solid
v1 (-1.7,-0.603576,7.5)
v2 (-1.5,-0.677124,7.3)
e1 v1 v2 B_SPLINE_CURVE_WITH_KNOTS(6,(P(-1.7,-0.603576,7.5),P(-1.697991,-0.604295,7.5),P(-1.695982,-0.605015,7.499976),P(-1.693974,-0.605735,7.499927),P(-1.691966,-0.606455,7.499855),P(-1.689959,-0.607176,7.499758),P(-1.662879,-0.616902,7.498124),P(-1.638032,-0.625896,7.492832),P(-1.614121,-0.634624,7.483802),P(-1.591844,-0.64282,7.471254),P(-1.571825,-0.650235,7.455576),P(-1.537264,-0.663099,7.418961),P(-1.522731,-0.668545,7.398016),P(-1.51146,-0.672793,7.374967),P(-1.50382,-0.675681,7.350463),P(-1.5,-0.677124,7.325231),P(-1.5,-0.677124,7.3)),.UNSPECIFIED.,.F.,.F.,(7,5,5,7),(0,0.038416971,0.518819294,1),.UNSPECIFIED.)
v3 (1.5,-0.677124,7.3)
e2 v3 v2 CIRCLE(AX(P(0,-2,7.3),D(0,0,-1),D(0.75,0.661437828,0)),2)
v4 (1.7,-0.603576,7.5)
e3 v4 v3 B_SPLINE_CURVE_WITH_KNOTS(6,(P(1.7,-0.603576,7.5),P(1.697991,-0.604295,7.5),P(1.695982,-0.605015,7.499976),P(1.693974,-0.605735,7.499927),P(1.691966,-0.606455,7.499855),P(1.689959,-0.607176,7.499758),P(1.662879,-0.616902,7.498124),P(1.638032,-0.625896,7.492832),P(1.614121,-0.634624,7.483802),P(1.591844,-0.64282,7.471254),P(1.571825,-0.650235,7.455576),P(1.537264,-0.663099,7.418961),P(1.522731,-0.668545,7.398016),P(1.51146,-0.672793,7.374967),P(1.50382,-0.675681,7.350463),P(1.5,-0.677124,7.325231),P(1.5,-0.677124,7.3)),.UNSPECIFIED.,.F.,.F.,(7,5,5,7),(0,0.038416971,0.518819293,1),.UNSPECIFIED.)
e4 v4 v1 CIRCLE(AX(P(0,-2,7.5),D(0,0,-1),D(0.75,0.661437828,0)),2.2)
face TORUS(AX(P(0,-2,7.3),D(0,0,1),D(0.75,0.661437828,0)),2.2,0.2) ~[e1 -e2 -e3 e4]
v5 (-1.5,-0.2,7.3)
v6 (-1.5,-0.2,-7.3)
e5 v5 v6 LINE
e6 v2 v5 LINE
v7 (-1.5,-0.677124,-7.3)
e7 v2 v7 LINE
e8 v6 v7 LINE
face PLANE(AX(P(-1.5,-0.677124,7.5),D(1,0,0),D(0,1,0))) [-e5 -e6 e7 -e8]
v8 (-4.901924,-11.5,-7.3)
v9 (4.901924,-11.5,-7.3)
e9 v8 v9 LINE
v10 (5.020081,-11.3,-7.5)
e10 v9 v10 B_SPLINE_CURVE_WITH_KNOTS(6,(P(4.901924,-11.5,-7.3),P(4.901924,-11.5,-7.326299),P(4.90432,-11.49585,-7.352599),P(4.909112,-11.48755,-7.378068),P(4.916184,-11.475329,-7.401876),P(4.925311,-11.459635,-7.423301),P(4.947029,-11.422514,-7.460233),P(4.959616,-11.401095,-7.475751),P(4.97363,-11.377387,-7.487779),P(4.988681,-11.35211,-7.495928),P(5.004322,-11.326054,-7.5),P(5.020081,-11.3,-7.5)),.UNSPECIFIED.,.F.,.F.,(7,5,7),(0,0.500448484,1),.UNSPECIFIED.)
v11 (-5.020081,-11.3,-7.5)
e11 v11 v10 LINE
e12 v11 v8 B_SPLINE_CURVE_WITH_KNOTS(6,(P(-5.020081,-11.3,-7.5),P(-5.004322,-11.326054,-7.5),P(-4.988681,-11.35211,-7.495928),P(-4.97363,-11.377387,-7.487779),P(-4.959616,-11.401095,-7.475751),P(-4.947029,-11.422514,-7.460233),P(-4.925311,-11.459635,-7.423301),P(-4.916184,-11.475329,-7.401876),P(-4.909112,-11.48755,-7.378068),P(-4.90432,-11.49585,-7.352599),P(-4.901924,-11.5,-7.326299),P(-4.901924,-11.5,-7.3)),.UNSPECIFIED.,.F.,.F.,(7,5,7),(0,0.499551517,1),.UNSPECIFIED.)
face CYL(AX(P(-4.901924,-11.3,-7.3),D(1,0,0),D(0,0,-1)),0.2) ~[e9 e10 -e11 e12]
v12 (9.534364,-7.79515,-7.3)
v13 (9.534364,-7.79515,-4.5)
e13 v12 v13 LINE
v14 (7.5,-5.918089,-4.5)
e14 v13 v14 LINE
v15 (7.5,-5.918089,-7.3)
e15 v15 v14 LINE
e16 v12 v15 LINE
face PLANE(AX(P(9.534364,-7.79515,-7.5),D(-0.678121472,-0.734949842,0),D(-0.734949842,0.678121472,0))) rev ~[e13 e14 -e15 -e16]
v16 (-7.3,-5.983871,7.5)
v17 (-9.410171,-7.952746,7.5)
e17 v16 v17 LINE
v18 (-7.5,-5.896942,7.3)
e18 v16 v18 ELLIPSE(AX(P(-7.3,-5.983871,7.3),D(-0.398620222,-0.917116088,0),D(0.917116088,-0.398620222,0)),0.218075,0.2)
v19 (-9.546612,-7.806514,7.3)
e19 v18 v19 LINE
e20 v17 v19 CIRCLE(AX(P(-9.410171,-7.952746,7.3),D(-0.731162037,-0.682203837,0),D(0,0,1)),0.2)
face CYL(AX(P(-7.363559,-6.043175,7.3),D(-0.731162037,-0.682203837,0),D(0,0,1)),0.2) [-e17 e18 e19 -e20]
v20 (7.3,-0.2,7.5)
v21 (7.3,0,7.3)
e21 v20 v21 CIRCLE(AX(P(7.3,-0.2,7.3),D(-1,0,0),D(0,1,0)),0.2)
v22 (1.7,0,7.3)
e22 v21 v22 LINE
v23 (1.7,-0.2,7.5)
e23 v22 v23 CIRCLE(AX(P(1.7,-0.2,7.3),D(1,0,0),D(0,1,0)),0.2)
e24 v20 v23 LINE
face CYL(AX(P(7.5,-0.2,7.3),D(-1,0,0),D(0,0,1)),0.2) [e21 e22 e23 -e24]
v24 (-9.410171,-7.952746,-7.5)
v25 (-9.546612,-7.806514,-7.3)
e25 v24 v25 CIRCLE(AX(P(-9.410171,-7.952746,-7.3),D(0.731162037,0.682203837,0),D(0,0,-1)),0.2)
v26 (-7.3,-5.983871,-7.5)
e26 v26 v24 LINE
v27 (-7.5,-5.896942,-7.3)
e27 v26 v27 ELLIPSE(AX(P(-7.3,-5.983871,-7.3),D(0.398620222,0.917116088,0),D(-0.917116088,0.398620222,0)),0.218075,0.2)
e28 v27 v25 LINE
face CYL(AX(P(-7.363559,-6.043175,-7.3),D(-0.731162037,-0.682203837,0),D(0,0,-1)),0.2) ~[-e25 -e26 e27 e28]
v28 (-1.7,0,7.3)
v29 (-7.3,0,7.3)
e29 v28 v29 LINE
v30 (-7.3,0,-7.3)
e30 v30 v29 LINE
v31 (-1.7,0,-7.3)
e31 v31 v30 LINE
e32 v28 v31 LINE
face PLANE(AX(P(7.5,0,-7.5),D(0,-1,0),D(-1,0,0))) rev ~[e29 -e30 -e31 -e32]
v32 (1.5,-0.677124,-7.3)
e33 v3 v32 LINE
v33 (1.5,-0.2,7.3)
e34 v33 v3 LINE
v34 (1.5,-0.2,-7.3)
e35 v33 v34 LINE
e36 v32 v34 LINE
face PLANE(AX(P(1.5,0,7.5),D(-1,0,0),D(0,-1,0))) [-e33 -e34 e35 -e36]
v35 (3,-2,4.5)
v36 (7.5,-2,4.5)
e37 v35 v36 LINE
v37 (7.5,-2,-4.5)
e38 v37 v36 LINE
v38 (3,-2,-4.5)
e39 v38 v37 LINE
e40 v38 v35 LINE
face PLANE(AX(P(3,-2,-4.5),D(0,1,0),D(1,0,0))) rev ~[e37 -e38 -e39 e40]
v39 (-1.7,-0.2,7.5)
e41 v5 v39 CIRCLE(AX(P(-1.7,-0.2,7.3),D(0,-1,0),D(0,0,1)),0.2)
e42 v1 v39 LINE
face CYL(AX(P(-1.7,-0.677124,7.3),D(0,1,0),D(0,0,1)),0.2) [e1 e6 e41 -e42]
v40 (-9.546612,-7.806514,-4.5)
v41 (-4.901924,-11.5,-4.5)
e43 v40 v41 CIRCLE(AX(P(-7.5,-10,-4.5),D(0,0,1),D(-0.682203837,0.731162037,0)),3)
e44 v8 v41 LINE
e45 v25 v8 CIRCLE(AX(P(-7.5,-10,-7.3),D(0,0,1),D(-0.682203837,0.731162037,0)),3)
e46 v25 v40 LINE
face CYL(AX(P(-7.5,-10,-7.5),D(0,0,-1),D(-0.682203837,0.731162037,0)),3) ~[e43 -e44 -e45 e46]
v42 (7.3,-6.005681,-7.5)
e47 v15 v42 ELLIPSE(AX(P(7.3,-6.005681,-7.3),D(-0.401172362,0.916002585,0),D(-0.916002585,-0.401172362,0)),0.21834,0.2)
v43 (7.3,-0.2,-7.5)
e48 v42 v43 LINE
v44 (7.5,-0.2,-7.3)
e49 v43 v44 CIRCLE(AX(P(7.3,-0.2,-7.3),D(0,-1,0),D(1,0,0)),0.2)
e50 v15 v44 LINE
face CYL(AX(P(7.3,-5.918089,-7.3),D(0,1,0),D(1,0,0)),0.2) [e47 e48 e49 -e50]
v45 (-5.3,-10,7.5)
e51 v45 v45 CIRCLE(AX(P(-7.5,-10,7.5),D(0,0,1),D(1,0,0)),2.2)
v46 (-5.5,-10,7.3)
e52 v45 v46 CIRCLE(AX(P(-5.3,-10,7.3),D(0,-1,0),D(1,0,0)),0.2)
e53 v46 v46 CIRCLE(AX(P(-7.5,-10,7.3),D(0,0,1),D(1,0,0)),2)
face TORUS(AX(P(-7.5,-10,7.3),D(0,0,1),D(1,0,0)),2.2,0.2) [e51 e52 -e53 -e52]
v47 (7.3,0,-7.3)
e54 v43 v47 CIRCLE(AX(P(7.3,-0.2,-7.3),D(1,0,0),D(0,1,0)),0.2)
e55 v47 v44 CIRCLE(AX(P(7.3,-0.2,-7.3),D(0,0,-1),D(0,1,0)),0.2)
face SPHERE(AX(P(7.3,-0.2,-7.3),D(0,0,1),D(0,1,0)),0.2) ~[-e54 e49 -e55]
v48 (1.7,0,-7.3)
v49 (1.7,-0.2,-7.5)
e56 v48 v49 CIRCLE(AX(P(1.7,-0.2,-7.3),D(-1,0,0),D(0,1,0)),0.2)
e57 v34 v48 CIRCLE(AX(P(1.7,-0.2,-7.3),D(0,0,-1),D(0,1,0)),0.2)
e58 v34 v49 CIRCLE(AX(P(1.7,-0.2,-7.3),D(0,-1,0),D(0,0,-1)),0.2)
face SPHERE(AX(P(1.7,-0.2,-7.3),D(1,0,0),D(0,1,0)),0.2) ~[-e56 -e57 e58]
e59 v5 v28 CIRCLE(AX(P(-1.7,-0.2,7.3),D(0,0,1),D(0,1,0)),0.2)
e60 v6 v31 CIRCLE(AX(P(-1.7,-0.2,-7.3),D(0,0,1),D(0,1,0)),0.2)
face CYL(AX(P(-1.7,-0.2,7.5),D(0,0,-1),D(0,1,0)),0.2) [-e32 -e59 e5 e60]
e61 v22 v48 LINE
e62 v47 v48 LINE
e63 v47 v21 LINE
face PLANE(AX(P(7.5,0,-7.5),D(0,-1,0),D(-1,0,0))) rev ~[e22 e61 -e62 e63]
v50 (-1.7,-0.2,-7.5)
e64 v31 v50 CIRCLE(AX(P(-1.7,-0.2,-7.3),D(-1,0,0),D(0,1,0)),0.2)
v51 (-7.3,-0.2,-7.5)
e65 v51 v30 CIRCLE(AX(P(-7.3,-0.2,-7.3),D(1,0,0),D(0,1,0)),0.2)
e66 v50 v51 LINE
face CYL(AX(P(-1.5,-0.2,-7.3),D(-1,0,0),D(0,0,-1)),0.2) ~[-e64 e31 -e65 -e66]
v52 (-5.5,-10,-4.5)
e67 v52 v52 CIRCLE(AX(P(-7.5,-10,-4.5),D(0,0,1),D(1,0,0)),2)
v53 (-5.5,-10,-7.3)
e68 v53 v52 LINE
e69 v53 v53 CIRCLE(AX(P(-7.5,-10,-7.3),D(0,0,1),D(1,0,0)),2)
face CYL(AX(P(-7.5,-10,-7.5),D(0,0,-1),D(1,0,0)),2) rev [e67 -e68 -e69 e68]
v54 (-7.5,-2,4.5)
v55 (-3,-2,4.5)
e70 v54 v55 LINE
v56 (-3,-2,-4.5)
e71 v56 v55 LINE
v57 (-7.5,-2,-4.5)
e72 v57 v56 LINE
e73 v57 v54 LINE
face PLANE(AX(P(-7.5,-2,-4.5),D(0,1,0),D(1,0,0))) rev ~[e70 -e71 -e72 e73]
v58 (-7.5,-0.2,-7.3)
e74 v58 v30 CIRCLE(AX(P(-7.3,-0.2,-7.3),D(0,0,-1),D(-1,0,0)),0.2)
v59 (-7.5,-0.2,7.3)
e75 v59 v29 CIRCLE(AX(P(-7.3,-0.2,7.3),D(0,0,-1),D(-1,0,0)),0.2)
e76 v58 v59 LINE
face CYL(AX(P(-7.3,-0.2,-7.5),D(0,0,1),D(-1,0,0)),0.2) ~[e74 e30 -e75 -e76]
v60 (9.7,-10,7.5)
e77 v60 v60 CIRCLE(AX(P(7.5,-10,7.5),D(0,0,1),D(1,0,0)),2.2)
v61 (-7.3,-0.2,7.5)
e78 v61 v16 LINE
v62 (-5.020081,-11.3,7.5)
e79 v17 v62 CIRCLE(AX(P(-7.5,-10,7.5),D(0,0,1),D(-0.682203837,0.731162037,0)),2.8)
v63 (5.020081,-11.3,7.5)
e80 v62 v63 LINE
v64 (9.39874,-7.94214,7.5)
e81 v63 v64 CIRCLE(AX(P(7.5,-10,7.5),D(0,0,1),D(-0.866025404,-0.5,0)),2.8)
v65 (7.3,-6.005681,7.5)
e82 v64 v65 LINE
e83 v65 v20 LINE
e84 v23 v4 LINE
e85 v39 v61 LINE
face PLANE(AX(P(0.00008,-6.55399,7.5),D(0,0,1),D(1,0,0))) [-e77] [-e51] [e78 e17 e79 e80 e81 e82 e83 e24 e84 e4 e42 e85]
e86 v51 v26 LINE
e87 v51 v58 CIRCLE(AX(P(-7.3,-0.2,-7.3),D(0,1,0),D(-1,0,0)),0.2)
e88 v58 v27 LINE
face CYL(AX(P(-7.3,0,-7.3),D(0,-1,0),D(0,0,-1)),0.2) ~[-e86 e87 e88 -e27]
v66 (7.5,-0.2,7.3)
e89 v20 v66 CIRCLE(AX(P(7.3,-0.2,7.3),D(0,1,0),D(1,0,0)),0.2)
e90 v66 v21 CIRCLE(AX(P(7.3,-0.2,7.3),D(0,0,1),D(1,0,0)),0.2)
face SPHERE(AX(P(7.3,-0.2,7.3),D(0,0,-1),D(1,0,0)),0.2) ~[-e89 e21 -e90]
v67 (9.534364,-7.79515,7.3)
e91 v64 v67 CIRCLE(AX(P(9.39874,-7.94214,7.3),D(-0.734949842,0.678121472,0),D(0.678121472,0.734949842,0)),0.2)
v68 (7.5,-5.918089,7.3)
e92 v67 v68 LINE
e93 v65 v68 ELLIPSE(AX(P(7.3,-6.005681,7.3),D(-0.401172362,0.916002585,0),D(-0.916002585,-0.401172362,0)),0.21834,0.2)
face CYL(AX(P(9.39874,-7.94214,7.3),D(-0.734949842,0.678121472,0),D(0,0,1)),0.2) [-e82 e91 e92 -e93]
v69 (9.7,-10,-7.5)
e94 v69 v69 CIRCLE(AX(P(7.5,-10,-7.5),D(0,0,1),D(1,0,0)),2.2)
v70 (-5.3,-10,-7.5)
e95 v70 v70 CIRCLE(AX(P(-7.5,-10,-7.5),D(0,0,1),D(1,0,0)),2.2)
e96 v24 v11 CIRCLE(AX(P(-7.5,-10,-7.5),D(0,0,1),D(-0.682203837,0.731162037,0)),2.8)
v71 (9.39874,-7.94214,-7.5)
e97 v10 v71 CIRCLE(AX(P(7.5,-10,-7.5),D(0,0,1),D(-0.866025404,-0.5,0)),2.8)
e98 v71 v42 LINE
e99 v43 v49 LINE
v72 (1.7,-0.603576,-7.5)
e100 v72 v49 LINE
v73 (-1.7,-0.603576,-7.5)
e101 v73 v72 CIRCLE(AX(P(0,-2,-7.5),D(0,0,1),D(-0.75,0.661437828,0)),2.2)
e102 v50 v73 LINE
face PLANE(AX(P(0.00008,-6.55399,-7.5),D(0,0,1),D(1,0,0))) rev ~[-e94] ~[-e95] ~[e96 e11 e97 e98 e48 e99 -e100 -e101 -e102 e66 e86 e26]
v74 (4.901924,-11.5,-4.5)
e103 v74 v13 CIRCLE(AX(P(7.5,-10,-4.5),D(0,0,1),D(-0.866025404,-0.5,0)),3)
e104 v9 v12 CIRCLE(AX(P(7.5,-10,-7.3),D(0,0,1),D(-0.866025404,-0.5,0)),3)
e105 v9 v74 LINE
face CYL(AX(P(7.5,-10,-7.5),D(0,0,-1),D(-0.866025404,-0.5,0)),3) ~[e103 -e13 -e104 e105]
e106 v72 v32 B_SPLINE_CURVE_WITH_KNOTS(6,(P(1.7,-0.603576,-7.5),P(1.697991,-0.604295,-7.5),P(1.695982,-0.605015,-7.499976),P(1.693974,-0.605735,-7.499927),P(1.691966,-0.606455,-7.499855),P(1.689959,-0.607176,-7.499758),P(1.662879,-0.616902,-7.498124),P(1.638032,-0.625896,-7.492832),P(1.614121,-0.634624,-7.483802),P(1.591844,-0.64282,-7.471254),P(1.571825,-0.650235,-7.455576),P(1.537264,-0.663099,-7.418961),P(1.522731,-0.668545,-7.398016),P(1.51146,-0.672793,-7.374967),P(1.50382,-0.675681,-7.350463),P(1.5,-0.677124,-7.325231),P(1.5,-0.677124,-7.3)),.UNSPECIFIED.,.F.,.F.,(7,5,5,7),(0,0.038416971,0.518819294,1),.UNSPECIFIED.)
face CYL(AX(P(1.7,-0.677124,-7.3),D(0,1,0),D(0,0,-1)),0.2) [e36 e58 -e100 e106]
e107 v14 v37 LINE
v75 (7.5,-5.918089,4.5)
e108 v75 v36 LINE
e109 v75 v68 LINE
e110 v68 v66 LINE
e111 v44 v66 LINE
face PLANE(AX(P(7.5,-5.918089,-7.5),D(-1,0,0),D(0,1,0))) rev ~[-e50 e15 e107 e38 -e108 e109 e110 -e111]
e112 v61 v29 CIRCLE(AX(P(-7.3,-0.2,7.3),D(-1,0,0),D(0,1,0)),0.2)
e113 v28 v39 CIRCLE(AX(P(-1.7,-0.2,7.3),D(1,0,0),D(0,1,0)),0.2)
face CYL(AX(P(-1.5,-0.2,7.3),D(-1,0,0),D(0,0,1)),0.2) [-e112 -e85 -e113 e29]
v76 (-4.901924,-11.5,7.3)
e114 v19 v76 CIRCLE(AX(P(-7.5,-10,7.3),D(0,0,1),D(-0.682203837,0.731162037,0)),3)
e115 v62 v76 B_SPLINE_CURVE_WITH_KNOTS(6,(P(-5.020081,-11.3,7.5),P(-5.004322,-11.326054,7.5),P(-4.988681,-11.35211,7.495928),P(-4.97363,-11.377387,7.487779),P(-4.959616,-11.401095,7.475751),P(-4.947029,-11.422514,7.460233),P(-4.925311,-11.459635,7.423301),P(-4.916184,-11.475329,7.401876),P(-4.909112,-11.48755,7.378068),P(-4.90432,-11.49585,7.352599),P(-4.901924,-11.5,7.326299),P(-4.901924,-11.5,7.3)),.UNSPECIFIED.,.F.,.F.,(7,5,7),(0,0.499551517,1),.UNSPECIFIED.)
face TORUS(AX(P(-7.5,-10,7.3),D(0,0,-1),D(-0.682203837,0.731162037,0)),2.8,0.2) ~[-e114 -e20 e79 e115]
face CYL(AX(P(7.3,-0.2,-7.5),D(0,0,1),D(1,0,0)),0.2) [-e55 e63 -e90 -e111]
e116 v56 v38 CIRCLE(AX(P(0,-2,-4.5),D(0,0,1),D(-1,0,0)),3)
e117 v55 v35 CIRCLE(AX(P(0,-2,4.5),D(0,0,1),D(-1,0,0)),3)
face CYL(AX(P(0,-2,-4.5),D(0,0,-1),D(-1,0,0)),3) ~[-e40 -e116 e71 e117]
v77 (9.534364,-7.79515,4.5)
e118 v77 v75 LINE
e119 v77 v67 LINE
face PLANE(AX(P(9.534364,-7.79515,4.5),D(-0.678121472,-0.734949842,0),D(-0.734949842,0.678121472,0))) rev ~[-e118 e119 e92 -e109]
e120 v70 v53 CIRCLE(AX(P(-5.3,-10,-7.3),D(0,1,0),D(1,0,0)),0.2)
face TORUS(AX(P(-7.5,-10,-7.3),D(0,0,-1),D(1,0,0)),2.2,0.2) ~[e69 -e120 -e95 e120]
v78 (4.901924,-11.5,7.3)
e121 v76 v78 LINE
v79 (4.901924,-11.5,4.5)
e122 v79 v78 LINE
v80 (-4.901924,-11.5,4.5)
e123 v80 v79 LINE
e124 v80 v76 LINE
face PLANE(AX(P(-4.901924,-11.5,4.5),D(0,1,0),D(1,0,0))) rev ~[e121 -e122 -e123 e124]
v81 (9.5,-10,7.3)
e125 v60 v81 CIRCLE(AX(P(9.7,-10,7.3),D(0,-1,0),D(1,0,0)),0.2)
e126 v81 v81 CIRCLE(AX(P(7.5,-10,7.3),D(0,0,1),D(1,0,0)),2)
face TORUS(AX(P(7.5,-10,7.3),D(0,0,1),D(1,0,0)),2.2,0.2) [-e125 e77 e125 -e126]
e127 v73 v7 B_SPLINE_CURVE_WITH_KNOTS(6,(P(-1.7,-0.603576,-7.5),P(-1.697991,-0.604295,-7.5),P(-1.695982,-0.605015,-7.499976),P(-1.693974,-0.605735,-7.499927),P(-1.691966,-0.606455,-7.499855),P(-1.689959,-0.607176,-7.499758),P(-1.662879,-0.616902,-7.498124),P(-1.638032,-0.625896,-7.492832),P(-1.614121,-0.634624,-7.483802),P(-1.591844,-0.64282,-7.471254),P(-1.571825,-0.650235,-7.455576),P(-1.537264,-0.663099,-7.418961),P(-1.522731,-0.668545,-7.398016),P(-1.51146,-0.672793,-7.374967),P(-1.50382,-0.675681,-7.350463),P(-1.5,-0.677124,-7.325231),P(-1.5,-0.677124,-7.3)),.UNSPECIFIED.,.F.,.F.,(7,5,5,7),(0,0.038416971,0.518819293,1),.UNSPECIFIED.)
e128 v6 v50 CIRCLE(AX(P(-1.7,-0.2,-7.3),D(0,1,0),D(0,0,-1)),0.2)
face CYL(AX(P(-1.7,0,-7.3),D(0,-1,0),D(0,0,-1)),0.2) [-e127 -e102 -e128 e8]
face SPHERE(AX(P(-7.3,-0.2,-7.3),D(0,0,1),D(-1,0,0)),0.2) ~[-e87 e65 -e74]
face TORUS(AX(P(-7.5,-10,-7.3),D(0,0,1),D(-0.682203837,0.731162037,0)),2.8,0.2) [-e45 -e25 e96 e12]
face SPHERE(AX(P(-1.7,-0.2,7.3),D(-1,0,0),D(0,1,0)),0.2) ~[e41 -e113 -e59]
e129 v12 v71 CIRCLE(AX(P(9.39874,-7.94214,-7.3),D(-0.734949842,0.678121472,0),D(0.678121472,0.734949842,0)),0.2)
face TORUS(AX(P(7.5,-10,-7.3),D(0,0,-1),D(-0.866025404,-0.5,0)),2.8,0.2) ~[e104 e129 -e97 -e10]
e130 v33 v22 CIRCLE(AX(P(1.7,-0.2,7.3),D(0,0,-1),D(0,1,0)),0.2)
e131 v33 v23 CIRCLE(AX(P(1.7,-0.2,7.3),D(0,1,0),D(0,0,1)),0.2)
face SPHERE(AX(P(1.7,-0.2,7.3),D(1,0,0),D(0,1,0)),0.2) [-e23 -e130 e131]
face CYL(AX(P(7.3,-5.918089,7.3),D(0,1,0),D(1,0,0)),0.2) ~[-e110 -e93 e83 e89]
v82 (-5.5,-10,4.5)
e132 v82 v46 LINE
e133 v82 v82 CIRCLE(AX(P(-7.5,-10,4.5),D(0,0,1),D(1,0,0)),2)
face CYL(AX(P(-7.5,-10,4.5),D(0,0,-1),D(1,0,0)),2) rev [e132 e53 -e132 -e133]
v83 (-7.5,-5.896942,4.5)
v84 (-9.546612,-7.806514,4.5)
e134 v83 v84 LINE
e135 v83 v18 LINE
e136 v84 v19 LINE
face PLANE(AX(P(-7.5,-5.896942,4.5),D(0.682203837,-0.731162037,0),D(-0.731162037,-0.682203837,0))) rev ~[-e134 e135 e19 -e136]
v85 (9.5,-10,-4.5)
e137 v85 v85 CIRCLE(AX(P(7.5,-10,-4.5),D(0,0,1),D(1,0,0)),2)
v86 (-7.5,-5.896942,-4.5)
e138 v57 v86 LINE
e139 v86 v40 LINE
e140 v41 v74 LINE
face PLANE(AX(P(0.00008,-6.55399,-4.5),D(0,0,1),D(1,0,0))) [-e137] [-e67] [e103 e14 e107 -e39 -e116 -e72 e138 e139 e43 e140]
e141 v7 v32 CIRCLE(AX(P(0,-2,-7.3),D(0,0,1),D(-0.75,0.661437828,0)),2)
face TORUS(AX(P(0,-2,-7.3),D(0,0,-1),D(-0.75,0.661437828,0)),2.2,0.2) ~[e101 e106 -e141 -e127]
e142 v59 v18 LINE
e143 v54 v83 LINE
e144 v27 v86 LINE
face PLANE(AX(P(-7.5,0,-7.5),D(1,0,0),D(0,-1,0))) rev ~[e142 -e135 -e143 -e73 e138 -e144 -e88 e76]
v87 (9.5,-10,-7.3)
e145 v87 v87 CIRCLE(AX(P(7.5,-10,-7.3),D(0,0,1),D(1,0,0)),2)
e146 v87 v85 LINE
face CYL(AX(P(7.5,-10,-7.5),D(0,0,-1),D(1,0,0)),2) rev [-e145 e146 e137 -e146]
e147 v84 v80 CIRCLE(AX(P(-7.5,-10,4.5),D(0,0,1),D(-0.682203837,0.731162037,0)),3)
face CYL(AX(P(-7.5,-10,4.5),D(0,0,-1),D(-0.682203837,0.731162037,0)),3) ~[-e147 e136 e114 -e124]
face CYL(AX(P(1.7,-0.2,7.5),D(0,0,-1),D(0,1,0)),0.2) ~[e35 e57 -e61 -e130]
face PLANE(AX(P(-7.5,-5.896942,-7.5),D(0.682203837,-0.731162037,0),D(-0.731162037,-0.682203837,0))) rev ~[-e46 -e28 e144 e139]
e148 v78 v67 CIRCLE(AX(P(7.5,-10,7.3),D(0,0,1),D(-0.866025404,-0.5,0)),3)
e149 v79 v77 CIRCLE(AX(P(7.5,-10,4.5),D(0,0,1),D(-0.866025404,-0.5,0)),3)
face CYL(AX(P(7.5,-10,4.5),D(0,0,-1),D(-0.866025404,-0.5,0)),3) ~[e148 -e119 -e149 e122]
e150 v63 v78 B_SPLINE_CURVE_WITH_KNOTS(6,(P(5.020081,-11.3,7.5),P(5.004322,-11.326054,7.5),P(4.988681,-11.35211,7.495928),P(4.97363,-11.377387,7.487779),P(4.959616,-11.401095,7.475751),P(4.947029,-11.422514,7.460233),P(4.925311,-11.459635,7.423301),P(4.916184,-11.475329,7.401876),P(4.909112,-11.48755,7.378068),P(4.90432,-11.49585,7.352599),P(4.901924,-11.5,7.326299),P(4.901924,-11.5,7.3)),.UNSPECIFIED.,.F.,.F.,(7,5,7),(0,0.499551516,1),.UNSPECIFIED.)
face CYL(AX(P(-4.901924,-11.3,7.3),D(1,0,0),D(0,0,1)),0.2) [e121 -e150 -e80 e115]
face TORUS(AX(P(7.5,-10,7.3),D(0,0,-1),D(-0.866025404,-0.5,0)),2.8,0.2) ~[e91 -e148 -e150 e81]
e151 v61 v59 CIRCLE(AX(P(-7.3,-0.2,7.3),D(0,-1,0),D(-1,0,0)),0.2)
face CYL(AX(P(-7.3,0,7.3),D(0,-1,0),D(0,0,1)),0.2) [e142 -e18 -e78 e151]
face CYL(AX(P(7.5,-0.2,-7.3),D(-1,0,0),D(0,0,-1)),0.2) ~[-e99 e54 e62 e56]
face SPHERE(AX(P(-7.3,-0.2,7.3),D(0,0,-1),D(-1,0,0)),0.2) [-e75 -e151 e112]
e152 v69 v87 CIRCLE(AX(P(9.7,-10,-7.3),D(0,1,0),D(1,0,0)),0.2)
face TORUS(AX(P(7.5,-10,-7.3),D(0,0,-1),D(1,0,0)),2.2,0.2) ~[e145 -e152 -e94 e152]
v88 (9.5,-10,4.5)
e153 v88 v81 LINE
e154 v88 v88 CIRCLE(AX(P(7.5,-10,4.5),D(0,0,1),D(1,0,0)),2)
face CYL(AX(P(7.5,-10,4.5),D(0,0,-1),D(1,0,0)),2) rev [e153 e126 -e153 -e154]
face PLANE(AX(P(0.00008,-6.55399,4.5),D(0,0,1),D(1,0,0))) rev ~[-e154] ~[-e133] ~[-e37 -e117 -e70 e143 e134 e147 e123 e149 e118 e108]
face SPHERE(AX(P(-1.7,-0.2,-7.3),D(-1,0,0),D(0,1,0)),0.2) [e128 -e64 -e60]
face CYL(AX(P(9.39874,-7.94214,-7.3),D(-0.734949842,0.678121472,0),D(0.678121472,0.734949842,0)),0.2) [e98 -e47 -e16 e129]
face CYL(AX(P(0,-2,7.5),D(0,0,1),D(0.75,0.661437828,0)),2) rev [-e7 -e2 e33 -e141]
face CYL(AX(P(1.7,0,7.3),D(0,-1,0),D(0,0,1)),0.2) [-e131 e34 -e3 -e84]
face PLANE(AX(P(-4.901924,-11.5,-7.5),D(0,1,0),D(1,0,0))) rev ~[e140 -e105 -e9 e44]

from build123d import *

# Parameters (mm, degrees)
EXTRUDE_1_DEPTH      = 4.5
EXTRUDE_1_DEPTH_BACK = 4.5
SKETCH_2_R           = 2
EXTRUDE_2_DEPTH      = 3
EXTRUDE_START        = -12
SKETCH_2_2_R         = 2
EXTRUDE_3_DEPTH      = 3
CUT_EXTRUDE_1_REACH  = 24.456
FILLET_1_R           = 0.2


with BuildPart() as part:
    # 草图1 → 凸台-拉伸1 (new, two sides: drawn at the far end of the back side and taken through both)
    with BuildSketch(Plane.XY.offset(-EXTRUDE_1_DEPTH_BACK)):
        with BuildLine():
            Line((3, -2), (7.5, -2))
            Line((7.5, -2), (7.5, 0))
            Line((7.5, 0), (1.5, 0))
            Line((1.5, 0), (-7.5, 0))
            Line((-7.5, 0), (-7.5, -2))
            Line((-7.5, -2), (-3, -2))
            ThreePointArc((-3, -2), (0, -5), (3, -2))
        make_face()
    extrude(amount=EXTRUDE_1_DEPTH + EXTRUDE_1_DEPTH_BACK)

    # 草图2 → 凸台-拉伸2 (add)
    with BuildSketch(Plane.XY.offset(4.5)):
        with BuildLine():
            Line((9.534364415, -7.795150475), (7.5, -5.918088786))
            Line((7.5, -5.918088786), (7.5, 0))
            Line((7.5, 0), (-7.5, 0))
            Line((-7.5, 0), (-7.5, -5.896942336))
            Line((-7.5, -5.896942336), (-9.546611511, -7.806513888))
            ThreePointArc((-9.546611511, -7.806513888), (-9.367214032, -12.348086829), (-4.901923789, -11.5))
            Line((-4.901923789, -11.5), (4.901923789, -11.5))
            ThreePointArc((4.901923789, -11.5), (9.373744979, -12.342878519), (9.534364415, -7.795150475))
        make_face()
        with Locations((-7.5, -10)):
            Circle(SKETCH_2_R, mode=Mode.SUBTRACT)
        with Locations((7.5, -10)):
            Circle(SKETCH_2_R, mode=Mode.SUBTRACT)
    extrude(amount=EXTRUDE_2_DEPTH)

    # 草图2<2> → 凸台-拉伸3 (add)
    with BuildSketch(Plane.XY.offset(4.5).offset(EXTRUDE_START)):
        with BuildLine():
            Line((9.534364415, -7.795150475), (7.5, -5.918088786))
            Line((7.5, -5.918088786), (7.5, 0))
            Line((7.5, 0), (-7.5, 0))
            Line((-7.5, 0), (-7.5, -5.896942336))
            Line((-7.5, -5.896942336), (-9.546611511, -7.806513888))
            ThreePointArc((-9.546611511, -7.806513888), (-9.367214032, -12.348086829), (-4.901923789, -11.5))
            Line((-4.901923789, -11.5), (4.901923789, -11.5))
            ThreePointArc((4.901923789, -11.5), (9.373744979, -12.342878519), (9.534364415, -7.795150475))
        make_face()
        with Locations((-7.5, -10)):
            Circle(SKETCH_2_2_R, mode=Mode.SUBTRACT)
        with Locations((7.5, -10)):
            Circle(SKETCH_2_2_R, mode=Mode.SUBTRACT)
    extrude(amount=EXTRUDE_3_DEPTH)

    # 草图3 → 切除-拉伸1 (cut, up to next)
    with BuildSketch(Plane.XY.offset(7.5), mode=Mode.PRIVATE) as cut_extrude_1_sk1:
        with BuildLine():
            Line((-1.5, 0), (1.5, 0))
            Line((1.5, 0), (1.5, -0.677124344))
            ThreePointArc((1.5, -0.677124344), (0, -4), (-1.5, -0.677124344))
            Line((-1.5, -0.677124344), (-1.5, 0))
        make_face()
    cut_extrude_1_tool1 = extrude(cut_extrude_1_sk1.sketch, amount=-CUT_EXTRUDE_1_REACH, mode=Mode.PRIVATE) & part.part
    add(cut_extrude_1_tool1.solids().sort_by_distance((0, -1.914707, 7.5))[0], mode=Mode.SUBTRACT)

    # 圆角1
    fillet_1_edges = [part.edges().sort_by_distance(p)[0] for p in [
        (-7.5, 0, 0),
        (7.5, 0, 0),
        (9.373744979, -12.342878519, 7.5),
        (8.517182208, -6.856619631, 7.5),
        (7.5, -2.959044393, 7.5),
        (4.5, 0, 7.5),
        (-7.5, -2.948471168, 7.5),
        (-8.523305756, -6.851728112, 7.5),
        (-9.367214032, -12.348086829, 7.5),
        (0, -11.5, 7.5),
        (-9.5, -10, 7.5),
        (5.5, -10, 7.5),
        (9.373744979, -12.342878519, -7.5),
        (0, -11.5, -7.5),
        (-9.367214032, -12.348086829, -7.5),
        (-8.523305756, -6.851728112, -7.5),
        (-7.5, -2.948471168, -7.5),
        (4.5, 0, -7.5),
        (7.5, -2.959044393, -7.5),
        (8.517182208, -6.856619631, -7.5),
        (5.5, -10, -7.5),
        (-9.5, -10, -7.5),
        (-4.5, 0, -7.5),
        (-4.5, 0, 7.5),
        (-1.5, 0, 0),
        (1.5, 0, 0),
        (0, -4, 7.5),
        (1.5, -0.338562172, 7.5),
        (-1.5, -0.338562172, 7.5),
        (0, -4, -7.5),
        (-1.5, -0.338562172, -7.5),
        (1.5, -0.338562172, -7.5),
    ]]
    fillet(fillet_1_edges, radius=FILLET_1_R)


solid = part.part
